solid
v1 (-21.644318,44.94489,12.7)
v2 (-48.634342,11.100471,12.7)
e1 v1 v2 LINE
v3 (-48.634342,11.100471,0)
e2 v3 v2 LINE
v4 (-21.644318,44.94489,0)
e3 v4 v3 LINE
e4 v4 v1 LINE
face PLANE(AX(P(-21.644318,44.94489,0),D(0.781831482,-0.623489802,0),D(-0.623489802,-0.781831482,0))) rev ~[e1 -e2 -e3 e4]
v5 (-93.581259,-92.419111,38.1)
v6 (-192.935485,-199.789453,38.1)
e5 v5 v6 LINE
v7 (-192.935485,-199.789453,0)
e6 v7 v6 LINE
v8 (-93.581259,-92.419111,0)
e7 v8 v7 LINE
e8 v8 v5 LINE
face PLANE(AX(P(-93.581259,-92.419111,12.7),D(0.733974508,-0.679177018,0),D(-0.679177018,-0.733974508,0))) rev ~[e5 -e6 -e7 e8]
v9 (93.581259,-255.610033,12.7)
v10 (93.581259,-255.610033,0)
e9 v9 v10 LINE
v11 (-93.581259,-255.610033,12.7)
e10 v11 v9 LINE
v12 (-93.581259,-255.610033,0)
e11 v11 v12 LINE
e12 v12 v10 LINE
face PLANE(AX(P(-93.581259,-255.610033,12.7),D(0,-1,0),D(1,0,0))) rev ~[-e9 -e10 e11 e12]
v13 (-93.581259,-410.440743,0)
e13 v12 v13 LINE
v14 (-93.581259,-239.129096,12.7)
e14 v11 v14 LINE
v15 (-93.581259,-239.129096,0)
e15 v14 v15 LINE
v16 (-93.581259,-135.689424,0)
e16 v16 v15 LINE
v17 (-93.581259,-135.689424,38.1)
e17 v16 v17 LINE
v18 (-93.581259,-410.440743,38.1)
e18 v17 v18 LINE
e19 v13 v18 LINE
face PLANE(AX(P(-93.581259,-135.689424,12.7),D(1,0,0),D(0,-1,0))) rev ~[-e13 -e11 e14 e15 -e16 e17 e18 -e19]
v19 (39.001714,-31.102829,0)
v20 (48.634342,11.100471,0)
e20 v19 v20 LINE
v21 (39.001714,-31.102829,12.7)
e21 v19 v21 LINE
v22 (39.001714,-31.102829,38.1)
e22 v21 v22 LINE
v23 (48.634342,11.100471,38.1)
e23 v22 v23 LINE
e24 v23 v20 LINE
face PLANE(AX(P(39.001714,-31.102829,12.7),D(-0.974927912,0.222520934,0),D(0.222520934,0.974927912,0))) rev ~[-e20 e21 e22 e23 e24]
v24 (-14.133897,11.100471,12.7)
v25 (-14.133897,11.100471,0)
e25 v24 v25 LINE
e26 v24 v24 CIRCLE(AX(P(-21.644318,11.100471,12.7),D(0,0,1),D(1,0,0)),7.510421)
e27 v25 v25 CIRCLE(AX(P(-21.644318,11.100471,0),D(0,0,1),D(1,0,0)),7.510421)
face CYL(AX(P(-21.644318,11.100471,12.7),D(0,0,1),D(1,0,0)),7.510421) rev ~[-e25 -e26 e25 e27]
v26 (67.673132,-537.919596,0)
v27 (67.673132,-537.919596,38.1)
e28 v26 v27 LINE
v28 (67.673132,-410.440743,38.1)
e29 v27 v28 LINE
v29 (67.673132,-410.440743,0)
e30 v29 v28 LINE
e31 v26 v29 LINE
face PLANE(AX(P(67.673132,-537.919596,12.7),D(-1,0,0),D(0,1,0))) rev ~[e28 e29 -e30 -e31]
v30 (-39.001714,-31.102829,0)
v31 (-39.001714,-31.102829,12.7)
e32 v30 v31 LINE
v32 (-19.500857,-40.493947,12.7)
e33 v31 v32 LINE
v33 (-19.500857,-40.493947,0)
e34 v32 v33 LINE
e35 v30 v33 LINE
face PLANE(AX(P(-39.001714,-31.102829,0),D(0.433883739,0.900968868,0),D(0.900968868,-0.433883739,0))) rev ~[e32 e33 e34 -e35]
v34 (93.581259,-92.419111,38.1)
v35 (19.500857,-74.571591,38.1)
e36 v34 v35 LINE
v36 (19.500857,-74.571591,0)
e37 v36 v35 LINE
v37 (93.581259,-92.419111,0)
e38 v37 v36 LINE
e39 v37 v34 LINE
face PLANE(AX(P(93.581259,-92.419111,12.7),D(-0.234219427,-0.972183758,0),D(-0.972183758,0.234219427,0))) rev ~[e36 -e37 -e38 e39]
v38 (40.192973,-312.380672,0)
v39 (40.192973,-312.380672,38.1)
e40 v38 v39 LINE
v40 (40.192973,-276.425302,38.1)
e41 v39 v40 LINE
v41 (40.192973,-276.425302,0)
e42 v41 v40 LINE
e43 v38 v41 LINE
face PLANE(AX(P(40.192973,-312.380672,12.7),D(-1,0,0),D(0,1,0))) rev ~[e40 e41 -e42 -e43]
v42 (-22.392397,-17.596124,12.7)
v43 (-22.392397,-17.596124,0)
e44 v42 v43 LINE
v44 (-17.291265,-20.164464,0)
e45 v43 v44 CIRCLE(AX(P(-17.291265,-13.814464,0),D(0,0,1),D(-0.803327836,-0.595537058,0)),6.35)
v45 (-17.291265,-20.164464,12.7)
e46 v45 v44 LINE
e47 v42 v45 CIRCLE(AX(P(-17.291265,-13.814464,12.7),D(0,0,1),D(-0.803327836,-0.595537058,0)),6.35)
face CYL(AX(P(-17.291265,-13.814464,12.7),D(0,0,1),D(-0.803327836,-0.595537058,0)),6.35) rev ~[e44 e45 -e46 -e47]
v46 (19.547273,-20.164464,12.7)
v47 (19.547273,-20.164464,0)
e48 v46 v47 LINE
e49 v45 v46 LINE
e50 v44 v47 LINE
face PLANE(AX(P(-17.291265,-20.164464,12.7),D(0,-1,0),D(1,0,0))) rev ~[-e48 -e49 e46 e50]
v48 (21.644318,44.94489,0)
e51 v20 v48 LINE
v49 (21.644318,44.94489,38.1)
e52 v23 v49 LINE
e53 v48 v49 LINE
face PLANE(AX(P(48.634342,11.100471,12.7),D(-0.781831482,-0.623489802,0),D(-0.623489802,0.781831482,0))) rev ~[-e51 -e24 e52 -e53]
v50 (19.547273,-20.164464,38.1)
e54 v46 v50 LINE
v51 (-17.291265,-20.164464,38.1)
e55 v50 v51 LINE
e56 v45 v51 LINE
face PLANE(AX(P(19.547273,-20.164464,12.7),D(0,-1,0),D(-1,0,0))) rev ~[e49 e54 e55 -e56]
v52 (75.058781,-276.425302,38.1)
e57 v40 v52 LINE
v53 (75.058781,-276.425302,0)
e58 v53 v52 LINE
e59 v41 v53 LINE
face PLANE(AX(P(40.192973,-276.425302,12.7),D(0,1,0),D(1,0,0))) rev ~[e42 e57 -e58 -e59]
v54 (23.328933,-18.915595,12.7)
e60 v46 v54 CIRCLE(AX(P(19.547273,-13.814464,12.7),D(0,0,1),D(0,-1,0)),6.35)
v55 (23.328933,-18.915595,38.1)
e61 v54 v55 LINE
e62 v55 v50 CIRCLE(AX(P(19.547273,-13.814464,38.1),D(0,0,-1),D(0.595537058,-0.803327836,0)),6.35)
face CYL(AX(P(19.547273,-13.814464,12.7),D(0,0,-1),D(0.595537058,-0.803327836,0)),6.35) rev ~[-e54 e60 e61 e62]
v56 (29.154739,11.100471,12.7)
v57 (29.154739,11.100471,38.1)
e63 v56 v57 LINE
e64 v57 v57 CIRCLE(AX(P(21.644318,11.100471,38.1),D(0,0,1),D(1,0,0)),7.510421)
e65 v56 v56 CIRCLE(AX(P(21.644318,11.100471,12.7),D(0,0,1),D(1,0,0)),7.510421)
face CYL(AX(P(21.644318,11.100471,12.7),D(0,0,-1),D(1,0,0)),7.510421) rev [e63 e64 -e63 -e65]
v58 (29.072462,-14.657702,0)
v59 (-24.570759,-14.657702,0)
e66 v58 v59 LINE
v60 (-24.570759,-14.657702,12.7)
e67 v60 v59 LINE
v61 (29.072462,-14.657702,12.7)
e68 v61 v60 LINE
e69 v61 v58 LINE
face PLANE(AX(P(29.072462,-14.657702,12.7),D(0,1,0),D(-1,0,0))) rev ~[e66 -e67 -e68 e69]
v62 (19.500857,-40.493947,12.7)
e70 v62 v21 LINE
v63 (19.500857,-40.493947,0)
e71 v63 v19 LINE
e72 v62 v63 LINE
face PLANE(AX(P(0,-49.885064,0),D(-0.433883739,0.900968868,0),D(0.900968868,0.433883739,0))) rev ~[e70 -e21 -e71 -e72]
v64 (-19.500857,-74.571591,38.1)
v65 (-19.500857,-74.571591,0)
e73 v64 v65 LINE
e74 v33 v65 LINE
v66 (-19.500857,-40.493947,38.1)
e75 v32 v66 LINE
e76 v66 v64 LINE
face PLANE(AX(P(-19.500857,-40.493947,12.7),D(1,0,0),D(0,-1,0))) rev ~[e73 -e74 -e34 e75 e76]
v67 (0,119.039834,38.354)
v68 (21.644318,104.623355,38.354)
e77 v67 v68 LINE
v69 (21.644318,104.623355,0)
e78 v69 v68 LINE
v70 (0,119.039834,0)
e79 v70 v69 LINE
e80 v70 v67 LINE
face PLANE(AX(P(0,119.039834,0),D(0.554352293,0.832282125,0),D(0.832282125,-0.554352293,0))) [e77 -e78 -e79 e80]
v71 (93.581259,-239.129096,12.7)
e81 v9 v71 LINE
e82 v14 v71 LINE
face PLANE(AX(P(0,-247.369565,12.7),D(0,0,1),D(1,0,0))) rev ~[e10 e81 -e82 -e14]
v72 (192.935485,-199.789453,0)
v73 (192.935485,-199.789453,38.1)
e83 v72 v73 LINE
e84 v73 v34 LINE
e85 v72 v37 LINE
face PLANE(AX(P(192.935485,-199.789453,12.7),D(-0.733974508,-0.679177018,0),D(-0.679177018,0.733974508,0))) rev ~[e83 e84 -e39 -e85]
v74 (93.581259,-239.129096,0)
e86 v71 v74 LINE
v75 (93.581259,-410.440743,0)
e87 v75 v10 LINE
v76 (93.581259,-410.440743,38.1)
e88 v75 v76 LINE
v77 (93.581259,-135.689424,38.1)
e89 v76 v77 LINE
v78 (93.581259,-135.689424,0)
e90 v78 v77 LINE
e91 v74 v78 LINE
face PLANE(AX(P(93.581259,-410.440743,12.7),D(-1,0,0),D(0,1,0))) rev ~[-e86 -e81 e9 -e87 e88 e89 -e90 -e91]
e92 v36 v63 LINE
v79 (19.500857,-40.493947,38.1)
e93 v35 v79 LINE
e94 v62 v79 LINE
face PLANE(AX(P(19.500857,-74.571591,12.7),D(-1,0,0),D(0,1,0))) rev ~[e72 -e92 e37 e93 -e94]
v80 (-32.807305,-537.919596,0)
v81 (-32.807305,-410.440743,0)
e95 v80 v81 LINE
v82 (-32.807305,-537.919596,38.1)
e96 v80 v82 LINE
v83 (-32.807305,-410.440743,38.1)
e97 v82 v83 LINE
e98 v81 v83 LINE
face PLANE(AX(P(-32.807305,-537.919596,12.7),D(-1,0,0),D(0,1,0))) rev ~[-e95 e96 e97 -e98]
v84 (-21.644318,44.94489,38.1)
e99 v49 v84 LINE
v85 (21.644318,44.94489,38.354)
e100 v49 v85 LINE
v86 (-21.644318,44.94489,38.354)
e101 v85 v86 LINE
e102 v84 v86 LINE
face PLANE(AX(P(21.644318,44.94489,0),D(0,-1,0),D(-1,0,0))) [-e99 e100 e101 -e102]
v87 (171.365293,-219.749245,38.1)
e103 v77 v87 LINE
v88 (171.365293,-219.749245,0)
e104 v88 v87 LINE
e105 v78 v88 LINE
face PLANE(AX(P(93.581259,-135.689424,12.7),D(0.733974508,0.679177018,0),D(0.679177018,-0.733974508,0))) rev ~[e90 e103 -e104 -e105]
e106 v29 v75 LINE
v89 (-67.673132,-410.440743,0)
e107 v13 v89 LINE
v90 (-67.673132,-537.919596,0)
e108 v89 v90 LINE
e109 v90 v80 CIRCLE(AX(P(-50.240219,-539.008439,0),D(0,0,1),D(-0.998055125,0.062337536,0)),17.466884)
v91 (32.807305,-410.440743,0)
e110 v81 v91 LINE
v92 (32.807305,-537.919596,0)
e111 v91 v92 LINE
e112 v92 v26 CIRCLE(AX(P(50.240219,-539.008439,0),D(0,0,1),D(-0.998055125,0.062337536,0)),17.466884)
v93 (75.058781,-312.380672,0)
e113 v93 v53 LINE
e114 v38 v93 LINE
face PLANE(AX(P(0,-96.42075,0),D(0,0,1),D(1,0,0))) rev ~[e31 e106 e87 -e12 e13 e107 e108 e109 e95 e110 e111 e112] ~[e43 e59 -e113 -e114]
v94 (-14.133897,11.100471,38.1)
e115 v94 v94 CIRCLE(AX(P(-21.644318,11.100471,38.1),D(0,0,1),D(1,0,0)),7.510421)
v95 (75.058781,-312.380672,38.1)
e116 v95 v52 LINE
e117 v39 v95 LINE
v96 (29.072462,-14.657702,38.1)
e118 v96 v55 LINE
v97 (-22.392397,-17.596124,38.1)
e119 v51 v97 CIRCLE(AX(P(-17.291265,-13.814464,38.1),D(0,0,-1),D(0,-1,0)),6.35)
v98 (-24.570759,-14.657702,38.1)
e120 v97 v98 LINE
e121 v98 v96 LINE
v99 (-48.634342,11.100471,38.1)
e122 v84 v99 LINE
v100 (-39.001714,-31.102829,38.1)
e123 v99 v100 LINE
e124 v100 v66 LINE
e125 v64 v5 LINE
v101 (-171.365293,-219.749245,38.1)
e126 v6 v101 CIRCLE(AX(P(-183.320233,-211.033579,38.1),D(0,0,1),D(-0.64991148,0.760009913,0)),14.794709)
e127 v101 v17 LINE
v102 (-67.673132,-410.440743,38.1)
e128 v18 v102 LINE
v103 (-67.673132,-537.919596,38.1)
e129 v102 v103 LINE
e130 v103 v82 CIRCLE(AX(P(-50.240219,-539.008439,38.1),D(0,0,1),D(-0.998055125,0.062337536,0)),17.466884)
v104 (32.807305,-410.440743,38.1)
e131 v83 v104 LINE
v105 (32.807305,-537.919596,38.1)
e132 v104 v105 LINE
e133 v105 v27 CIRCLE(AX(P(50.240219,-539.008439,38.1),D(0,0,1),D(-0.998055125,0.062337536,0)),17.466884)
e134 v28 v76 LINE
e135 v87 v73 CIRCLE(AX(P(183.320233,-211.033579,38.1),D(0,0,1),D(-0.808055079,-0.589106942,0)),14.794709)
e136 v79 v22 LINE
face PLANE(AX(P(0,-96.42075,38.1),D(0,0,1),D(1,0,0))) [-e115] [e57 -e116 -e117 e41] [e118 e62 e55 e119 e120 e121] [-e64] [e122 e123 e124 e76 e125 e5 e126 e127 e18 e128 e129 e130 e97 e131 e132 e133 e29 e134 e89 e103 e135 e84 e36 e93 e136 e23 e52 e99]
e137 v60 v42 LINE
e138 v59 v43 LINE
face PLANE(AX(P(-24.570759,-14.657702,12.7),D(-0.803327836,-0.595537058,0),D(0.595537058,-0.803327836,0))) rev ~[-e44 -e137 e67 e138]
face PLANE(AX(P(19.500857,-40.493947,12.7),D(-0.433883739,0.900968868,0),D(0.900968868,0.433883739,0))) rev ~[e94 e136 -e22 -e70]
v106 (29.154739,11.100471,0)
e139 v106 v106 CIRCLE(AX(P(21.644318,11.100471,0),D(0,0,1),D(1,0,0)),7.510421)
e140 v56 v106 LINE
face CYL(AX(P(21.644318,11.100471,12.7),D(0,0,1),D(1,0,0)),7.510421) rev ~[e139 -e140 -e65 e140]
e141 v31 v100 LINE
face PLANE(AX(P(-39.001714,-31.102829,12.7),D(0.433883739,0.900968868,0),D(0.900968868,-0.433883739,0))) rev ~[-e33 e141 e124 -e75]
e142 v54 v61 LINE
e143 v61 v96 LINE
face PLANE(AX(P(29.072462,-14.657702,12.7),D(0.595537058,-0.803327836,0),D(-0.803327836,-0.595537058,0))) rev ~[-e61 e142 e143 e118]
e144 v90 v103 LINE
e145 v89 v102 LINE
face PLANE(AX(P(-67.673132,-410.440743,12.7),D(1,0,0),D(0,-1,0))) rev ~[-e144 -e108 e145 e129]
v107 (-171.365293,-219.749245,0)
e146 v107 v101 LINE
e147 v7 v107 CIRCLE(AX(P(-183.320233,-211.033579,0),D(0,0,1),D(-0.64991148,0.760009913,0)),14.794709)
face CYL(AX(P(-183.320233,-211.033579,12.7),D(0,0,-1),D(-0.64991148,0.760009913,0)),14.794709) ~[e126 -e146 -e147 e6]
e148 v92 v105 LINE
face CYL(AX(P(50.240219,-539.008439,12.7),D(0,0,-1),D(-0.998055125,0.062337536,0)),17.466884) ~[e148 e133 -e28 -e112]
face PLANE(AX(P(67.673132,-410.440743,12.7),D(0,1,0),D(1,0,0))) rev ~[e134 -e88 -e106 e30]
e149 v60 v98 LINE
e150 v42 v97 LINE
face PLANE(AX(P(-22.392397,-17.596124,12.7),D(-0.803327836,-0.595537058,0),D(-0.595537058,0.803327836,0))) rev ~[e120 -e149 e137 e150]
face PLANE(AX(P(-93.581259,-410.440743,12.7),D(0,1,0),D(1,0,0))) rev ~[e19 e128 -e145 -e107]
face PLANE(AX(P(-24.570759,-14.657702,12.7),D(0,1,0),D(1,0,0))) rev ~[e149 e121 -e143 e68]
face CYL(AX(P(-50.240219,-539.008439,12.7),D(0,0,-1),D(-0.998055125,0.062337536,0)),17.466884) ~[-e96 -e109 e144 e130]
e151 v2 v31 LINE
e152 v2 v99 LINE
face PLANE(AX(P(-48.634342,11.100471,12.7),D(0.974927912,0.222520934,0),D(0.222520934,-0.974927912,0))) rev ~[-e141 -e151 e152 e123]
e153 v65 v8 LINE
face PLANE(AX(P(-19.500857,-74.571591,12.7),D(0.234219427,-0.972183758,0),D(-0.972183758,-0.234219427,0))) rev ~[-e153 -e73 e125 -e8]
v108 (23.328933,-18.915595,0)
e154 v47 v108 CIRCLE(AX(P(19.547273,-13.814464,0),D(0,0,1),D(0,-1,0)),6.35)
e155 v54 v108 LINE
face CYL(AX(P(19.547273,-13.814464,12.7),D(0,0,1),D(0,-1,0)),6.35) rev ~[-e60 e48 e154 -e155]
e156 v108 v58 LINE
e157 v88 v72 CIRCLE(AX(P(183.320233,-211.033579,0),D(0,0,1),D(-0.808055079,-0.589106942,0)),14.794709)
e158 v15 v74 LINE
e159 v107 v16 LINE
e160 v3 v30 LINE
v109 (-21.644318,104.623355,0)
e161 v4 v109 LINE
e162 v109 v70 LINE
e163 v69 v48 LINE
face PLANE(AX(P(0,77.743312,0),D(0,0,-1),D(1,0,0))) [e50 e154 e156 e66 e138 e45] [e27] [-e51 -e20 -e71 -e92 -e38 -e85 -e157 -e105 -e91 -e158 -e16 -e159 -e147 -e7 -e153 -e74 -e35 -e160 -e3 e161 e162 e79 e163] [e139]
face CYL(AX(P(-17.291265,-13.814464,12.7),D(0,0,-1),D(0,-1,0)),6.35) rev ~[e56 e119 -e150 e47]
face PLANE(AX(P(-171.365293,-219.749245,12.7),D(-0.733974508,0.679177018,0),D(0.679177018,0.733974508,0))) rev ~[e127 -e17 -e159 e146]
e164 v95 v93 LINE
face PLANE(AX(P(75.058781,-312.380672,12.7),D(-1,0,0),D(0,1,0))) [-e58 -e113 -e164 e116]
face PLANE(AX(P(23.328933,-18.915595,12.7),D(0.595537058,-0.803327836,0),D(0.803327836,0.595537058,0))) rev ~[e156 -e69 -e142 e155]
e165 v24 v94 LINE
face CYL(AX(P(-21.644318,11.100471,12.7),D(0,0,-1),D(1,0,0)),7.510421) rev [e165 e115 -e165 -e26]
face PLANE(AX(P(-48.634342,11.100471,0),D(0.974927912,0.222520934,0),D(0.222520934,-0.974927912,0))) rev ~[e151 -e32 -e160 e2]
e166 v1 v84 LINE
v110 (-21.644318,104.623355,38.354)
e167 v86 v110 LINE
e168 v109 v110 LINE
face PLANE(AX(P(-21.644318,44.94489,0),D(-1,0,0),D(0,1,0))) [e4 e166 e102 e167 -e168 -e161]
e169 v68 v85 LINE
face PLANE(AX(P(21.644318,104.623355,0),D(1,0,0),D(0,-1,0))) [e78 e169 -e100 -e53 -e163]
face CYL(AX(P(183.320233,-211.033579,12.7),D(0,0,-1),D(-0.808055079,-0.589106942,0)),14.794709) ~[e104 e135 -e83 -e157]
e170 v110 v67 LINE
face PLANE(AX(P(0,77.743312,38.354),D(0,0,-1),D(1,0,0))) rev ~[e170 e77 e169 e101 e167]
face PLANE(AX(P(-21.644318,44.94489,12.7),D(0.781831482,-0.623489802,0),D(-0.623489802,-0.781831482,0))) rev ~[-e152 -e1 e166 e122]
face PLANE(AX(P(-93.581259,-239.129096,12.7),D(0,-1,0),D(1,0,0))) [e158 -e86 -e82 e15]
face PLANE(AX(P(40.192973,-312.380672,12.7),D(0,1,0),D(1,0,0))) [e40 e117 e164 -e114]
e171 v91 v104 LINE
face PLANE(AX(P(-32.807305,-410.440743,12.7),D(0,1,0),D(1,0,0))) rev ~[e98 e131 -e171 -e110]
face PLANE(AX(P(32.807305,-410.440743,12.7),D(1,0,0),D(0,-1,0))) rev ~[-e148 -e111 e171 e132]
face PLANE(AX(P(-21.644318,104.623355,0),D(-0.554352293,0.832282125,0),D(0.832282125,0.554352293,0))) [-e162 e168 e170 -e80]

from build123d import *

# Parameters (mm, degrees)
F1_DEPTH  = 12.7
F2_R      = 7.5104207728
F3_DEPTH  = 12.701
F4_W      = 187.1625185013
F4_H      = 16.4809370326
F4_W_2    = 34.8658077419
F4_H_2    = 35.9553694725
F5_DEPTH  = 12.7
F5_FACE_R = 7.5104207728
F5_FACE_W = 34.8658077419
F5_FACE_H = 35.9553694725
F6_DEPTH  = 25.4
F7_DEPTH  = 12.7
F9_DEPTH  = 38.354


with BuildPart() as f1:
    # F0 (on Top) → F1 (new body)
    with BuildSketch(Plane.XY):
        Polygon((21.6443181937, 44.9448898435), (-21.6443181937, 44.9448898435), (-48.6343415176, 11.1004710827), (-39.001713719, -31.1028288117), (0, -49.8850642288), (39.001713719, -31.1028288117), (48.6343415176, 11.1004710827), align=None)
    extrude(amount=F1_DEPTH)

    # F2 (on face) → F3 (cut, through all)
    with BuildSketch(Plane.XY.offset(12.7)):
        with Locations((-21.6443181937, 11.1004710827)):
            Circle(F2_R)
        with Locations((21.6443181937, 11.1004710827)):
            Circle(F2_R)
        with BuildLine():
            ThreePointArc((-22.3923972439, -17.5961239861), (-20.1468702335, -19.4861496183), (-17.2912654826, -20.1644636691))
            Line((-17.2912654826, -20.1644636691), (19.5472728087, -20.1644636691))
            ThreePointArc((19.5472728087, -20.1644636691), (21.5385429204, -19.8441687483), (23.3289331258, -18.9155954304))
            Line((23.3289331258, -18.9155954304), (29.0724616498, -14.657702297))
            Line((29.0724616498, -14.657702297), (-24.5707594616, -14.657702297))
            Line((-24.5707594616, -14.657702297), (-22.3923972439, -17.5961239861))
        make_face()
    extrude(amount=-F3_DEPTH, mode=Mode.SUBTRACT)

    # F4 (on face) → F5 (join)
    with BuildSketch(Plane.XY.offset(12.7)):
        with BuildLine():
            Line((56.5410580551, -83.4953508641), (19.5008568595, -74.5715907042))
            Line((19.5008568595, -74.5715907042), (-19.5008568595, -74.5715907042))
            Line((-19.5008568595, -74.5715907042), (-56.5410580551, -83.4953508641))
            add(Edge.make_bspline(
                [(-56.5410580551, -83.4953508641), (-37.4583826818, -107.754176934), (0, -155.2743553327), (37.4583826818, -107.754176934), (56.5410580551, -83.4953508641)],
                knots=[0, 0, 0, 0, 0.5, 1, 1, 1, 1], degree=3))
        make_face()
        with BuildLine():
            Line((93.5812592506, -92.419111024), (56.5410580551, -83.4953508641))
            add(Edge.make_bspline(
                [(-56.5410580551, -83.4953508641), (-37.4583826818, -107.754176934), (0, -155.2743553327), (37.4583826818, -107.754176934), (56.5410580551, -83.4953508641)],
                knots=[0, 0, 0, 0, 0.5, 1, 1, 1, 1], degree=3))
            Line((-56.5410580551, -83.4953508641), (-93.5812592506, -92.419111024))
            Line((-93.5812592506, -92.419111024), (-93.5812592506, -135.6894243062))
            Line((-93.5812592506, -135.6894243062), (-93.5812592506, -239.1290962696))
            Line((-93.5812592506, -239.1290962696), (93.5812592506, -239.1290962696))
            Line((93.5812592506, -239.1290962696), (93.5812592506, -135.6894243062))
            Line((93.5812592506, -135.6894243062), (93.5812592506, -92.419111024))
        make_face()
        with BuildLine():
            Line((192.9354845729, -199.789452925), (93.5812592506, -92.419111024))
            Line((93.5812592506, -92.419111024), (93.5812592506, -135.6894243062))
            Line((93.5812592506, -135.6894243062), (171.3652932207, -219.7492445575))
            ThreePointArc((171.3652932207, -219.7492445575), (193.3684597033, -221.8925180787), (192.9354845729, -199.789452925))
        make_face()
        with BuildLine():
            Line((-93.5812592506, -135.6894243062), (-93.5812592506, -92.419111024))
            Line((-93.5812592506, -92.419111024), (-192.9354845729, -199.789452925))
            ThreePointArc((-192.9354845729, -199.789452925), (-193.3684597033, -221.8925180787), (-171.3652932207, -219.7492445575))
            Line((-171.3652932207, -219.7492445575), (-93.5812592506, -135.6894243062))
        make_face()
        with Locations((0, -247.3695647859)):
            Rectangle(F4_W, F4_H)
        Polygon((93.5812592506, -410.4407429695), (93.5812592506, -255.6100333022), (-93.5812592506, -255.6100333022), (-93.5812592506, -410.4407429695), (-67.6731318235, -410.4407429695), (-32.8073054552, -410.4407429695), (0, -410.4407429695), (32.8073054552, -410.4407429695), (67.6731318235, -410.4407429695), align=None)
        with Locations((57.6258767396, -294.4029867649)):
            Rectangle(F4_W_2, F4_H_2, mode=Mode.SUBTRACT)
        with BuildLine():
            Line((67.6731318235, -537.919596071), (67.6731318235, -410.4407429695))
            Line((67.6731318235, -410.4407429695), (32.8073054552, -410.4407429695))
            Line((32.8073054552, -410.4407429695), (32.8073054552, -537.919596071))
            ThreePointArc((32.8073054552, -537.919596071), (50.2402186394, -556.4753226857), (67.6731318235, -537.919596071))
        make_face()
        with BuildLine():
            Line((-32.8073054552, -410.4407429695), (-67.6731318235, -410.4407429695))
            Line((-67.6731318235, -410.4407429695), (-67.6731318235, -537.919596071))
            ThreePointArc((-67.6731318235, -537.919596071), (-50.2402186394, -556.4753226857), (-32.8073054552, -537.919596071))
            Line((-32.8073054552, -537.919596071), (-32.8073054552, -410.4407429695))
        make_face()
        Polygon((0, -49.8850642288), (-19.5008568595, -40.4939465203), (-19.5008568595, -74.5715907042), (19.5008568595, -74.5715907042), (19.5008568595, -40.4939465203), align=None)
    extrude(amount=-F5_DEPTH)

    # F4 (on face) + F5_face (on face) → F6 (join)
    with BuildSketch(Plane.XY.offset(12.7)):
        with BuildLine():
            Line((56.5410580551, -83.4953508641), (19.5008568595, -74.5715907042))
            Line((19.5008568595, -74.5715907042), (-19.5008568595, -74.5715907042))
            Line((-19.5008568595, -74.5715907042), (-56.5410580551, -83.4953508641))
            add(Edge.make_bspline(
                [(-56.5410580551, -83.4953508641), (-37.4583826818, -107.754176934), (0, -155.2743553327), (37.4583826818, -107.754176934), (56.5410580551, -83.4953508641)],
                knots=[0, 0, 0, 0, 0.5, 1, 1, 1, 1], degree=3))
        make_face()
        with BuildLine():
            Line((93.5812592506, -92.419111024), (56.5410580551, -83.4953508641))
            add(Edge.make_bspline(
                [(-56.5410580551, -83.4953508641), (-37.4583826818, -107.754176934), (0, -155.2743553327), (37.4583826818, -107.754176934), (56.5410580551, -83.4953508641)],
                knots=[0, 0, 0, 0, 0.5, 1, 1, 1, 1], degree=3))
            Line((-56.5410580551, -83.4953508641), (-93.5812592506, -92.419111024))
            Line((-93.5812592506, -92.419111024), (-93.5812592506, -135.6894243062))
            Line((-93.5812592506, -135.6894243062), (-93.5812592506, -239.1290962696))
            Line((-93.5812592506, -239.1290962696), (93.5812592506, -239.1290962696))
            Line((93.5812592506, -239.1290962696), (93.5812592506, -135.6894243062))
            Line((93.5812592506, -135.6894243062), (93.5812592506, -92.419111024))
        make_face()
        with BuildLine():
            Line((192.9354845729, -199.789452925), (93.5812592506, -92.419111024))
            Line((93.5812592506, -92.419111024), (93.5812592506, -135.6894243062))
            Line((93.5812592506, -135.6894243062), (171.3652932207, -219.7492445575))
            ThreePointArc((171.3652932207, -219.7492445575), (193.3684597033, -221.8925180787), (192.9354845729, -199.789452925))
        make_face()
        with BuildLine():
            Line((-93.5812592506, -135.6894243062), (-93.5812592506, -92.419111024))
            Line((-93.5812592506, -92.419111024), (-192.9354845729, -199.789452925))
            ThreePointArc((-192.9354845729, -199.789452925), (-193.3684597033, -221.8925180787), (-171.3652932207, -219.7492445575))
            Line((-171.3652932207, -219.7492445575), (-93.5812592506, -135.6894243062))
        make_face()
        with Locations((0, -247.3695647859)):
            Rectangle(F4_W, F4_H)
        Polygon((93.5812592506, -410.4407429695), (93.5812592506, -255.6100333022), (-93.5812592506, -255.6100333022), (-93.5812592506, -410.4407429695), (-67.6731318235, -410.4407429695), (-32.8073054552, -410.4407429695), (0, -410.4407429695), (32.8073054552, -410.4407429695), (67.6731318235, -410.4407429695), align=None)
        with Locations((57.6258767396, -294.4029867649)):
            Rectangle(F4_W_2, F4_H_2, mode=Mode.SUBTRACT)
        with BuildLine():
            Line((67.6731318235, -537.919596071), (67.6731318235, -410.4407429695))
            Line((67.6731318235, -410.4407429695), (32.8073054552, -410.4407429695))
            Line((32.8073054552, -410.4407429695), (32.8073054552, -537.919596071))
            ThreePointArc((32.8073054552, -537.919596071), (50.2402186394, -556.4753226857), (67.6731318235, -537.919596071))
        make_face()
        with BuildLine():
            Line((-32.8073054552, -410.4407429695), (-67.6731318235, -410.4407429695))
            Line((-67.6731318235, -410.4407429695), (-67.6731318235, -537.919596071))
            ThreePointArc((-67.6731318235, -537.919596071), (-50.2402186394, -556.4753226857), (-32.8073054552, -537.919596071))
            Line((-32.8073054552, -537.919596071), (-32.8073054552, -410.4407429695))
        make_face()
    with BuildSketch(Plane(origin=(-0.8446468995, -244.4359717848, 12.7), x_dir=(1, 0, 0), z_dir=(0, 0, 1))):
        with BuildLine():
            Line((22.4889650932, 289.3808616283), (-20.7996712942, 289.3808616283))
            Line((-20.7996712942, 289.3808616283), (-47.7896946182, 255.5364428675))
            Line((-47.7896946182, 255.5364428675), (-38.1570668195, 213.3331429731))
            Line((-38.1570668195, 213.3331429731), (-18.65620996, 203.9420252645))
            Line((-18.65620996, 203.9420252645), (-18.65620996, 169.8643810806))
            Line((-18.65620996, 169.8643810806), (-92.7366123512, 152.0168607608))
            Line((-92.7366123512, 152.0168607608), (-192.0908376734, 44.6465188598))
            ThreePointArc((-192.0908376734, 44.6465188598), (-192.5238128038, 22.5434537061), (-170.5206463212, 24.6867272273))
            Line((-170.5206463212, 24.6867272273), (-92.7366123512, 108.7465474786))
            Line((-92.7366123512, 108.7465474786), (-92.7366123512, -166.0047711847))
            Line((-92.7366123512, -166.0047711847), (-66.8284849241, -166.0047711847))
            Line((-66.8284849241, -166.0047711847), (-66.8284849241, -293.4836242862))
            ThreePointArc((-66.8284849241, -293.4836242862), (-49.3955717399, -312.0393509009), (-31.9626585557, -293.4836242862))
            Line((-31.9626585557, -293.4836242862), (-31.9626585557, -166.0047711847))
            Line((-31.9626585557, -166.0047711847), (33.6519523547, -166.0047711847))
            Line((33.6519523547, -166.0047711847), (33.6519523547, -293.4836242862))
            ThreePointArc((33.6519523547, -293.4836242862), (51.0848655389, -312.0393509009), (68.517778723, -293.4836242862))
            Line((68.517778723, -293.4836242862), (68.517778723, -166.0047711847))
            Line((68.517778723, -166.0047711847), (94.4259061501, -166.0047711847))
            Line((94.4259061501, -166.0047711847), (94.4259061501, 108.7465474786))
            Line((94.4259061501, 108.7465474786), (172.2099401201, 24.6867272273))
            ThreePointArc((172.2099401201, 24.6867272273), (194.2131066028, 22.5434537061), (193.7801314724, 44.6465188598))
            Line((193.7801314724, 44.6465188598), (94.4259061501, 152.0168607608))
            Line((94.4259061501, 152.0168607608), (20.345503759, 169.8643810806))
            Line((20.345503759, 169.8643810806), (20.345503759, 203.9420252645))
            Line((20.345503759, 203.9420252645), (39.8463606185, 213.3331429731))
            Line((39.8463606185, 213.3331429731), (49.4789884171, 255.5364428675))
            Line((49.4789884171, 255.5364428675), (22.4889650932, 289.3808616283))
        make_face()
        with BuildLine():
            Line((-21.5477503444, 226.8398477987), (-23.7261125621, 229.7782694878))
            Line((-23.7261125621, 229.7782694878), (29.9171085493, 229.7782694878))
            Line((29.9171085493, 229.7782694878), (24.1735800252, 225.5203763544))
            ThreePointArc((24.1735800252, 225.5203763544), (22.3831898199, 224.5918030365), (20.3919197082, 224.2715081157))
            Line((20.3919197082, 224.2715081157), (-16.4466185831, 224.2715081157))
            ThreePointArc((-16.4466185831, 224.2715081157), (-19.302223334, 224.9498221665), (-21.5477503444, 226.8398477987))
        make_face(mode=Mode.SUBTRACT)
        with Locations((-20.7996712942, 255.5364428675)):
            Circle(F5_FACE_R, mode=Mode.SUBTRACT)
        with Locations((22.4889650932, 255.5364428675)):
            Circle(F5_FACE_R, mode=Mode.SUBTRACT)
        with Locations((58.4705236391, -49.9670149801)):
            Rectangle(F5_FACE_W, F5_FACE_H, mode=Mode.SUBTRACT)
    extrude(amount=F6_DEPTH)

    # F4 (on face) → F7 (cut)
    with BuildSketch(Plane.XY.offset(12.7)):
        with Locations((0, -247.3695647859)):
            Rectangle(F4_W, F4_H)
    extrude(amount=-F7_DEPTH, mode=Mode.SUBTRACT)

    # F8 (on face) → F9 (join)
    with BuildSketch(Plane(origin=(0, 0, 0), x_dir=(1, 0, 0), z_dir=(0, 0, -1))):
        Polygon((21.6443181937, -104.6233549714), (21.6443181937, -44.9448898435), (-21.6443181937, -44.9448898435), (-21.6443181937, -104.6233549714), (0, -119.0398335457), align=None)
    extrude(amount=-F9_DEPTH)


solid = f1.part
